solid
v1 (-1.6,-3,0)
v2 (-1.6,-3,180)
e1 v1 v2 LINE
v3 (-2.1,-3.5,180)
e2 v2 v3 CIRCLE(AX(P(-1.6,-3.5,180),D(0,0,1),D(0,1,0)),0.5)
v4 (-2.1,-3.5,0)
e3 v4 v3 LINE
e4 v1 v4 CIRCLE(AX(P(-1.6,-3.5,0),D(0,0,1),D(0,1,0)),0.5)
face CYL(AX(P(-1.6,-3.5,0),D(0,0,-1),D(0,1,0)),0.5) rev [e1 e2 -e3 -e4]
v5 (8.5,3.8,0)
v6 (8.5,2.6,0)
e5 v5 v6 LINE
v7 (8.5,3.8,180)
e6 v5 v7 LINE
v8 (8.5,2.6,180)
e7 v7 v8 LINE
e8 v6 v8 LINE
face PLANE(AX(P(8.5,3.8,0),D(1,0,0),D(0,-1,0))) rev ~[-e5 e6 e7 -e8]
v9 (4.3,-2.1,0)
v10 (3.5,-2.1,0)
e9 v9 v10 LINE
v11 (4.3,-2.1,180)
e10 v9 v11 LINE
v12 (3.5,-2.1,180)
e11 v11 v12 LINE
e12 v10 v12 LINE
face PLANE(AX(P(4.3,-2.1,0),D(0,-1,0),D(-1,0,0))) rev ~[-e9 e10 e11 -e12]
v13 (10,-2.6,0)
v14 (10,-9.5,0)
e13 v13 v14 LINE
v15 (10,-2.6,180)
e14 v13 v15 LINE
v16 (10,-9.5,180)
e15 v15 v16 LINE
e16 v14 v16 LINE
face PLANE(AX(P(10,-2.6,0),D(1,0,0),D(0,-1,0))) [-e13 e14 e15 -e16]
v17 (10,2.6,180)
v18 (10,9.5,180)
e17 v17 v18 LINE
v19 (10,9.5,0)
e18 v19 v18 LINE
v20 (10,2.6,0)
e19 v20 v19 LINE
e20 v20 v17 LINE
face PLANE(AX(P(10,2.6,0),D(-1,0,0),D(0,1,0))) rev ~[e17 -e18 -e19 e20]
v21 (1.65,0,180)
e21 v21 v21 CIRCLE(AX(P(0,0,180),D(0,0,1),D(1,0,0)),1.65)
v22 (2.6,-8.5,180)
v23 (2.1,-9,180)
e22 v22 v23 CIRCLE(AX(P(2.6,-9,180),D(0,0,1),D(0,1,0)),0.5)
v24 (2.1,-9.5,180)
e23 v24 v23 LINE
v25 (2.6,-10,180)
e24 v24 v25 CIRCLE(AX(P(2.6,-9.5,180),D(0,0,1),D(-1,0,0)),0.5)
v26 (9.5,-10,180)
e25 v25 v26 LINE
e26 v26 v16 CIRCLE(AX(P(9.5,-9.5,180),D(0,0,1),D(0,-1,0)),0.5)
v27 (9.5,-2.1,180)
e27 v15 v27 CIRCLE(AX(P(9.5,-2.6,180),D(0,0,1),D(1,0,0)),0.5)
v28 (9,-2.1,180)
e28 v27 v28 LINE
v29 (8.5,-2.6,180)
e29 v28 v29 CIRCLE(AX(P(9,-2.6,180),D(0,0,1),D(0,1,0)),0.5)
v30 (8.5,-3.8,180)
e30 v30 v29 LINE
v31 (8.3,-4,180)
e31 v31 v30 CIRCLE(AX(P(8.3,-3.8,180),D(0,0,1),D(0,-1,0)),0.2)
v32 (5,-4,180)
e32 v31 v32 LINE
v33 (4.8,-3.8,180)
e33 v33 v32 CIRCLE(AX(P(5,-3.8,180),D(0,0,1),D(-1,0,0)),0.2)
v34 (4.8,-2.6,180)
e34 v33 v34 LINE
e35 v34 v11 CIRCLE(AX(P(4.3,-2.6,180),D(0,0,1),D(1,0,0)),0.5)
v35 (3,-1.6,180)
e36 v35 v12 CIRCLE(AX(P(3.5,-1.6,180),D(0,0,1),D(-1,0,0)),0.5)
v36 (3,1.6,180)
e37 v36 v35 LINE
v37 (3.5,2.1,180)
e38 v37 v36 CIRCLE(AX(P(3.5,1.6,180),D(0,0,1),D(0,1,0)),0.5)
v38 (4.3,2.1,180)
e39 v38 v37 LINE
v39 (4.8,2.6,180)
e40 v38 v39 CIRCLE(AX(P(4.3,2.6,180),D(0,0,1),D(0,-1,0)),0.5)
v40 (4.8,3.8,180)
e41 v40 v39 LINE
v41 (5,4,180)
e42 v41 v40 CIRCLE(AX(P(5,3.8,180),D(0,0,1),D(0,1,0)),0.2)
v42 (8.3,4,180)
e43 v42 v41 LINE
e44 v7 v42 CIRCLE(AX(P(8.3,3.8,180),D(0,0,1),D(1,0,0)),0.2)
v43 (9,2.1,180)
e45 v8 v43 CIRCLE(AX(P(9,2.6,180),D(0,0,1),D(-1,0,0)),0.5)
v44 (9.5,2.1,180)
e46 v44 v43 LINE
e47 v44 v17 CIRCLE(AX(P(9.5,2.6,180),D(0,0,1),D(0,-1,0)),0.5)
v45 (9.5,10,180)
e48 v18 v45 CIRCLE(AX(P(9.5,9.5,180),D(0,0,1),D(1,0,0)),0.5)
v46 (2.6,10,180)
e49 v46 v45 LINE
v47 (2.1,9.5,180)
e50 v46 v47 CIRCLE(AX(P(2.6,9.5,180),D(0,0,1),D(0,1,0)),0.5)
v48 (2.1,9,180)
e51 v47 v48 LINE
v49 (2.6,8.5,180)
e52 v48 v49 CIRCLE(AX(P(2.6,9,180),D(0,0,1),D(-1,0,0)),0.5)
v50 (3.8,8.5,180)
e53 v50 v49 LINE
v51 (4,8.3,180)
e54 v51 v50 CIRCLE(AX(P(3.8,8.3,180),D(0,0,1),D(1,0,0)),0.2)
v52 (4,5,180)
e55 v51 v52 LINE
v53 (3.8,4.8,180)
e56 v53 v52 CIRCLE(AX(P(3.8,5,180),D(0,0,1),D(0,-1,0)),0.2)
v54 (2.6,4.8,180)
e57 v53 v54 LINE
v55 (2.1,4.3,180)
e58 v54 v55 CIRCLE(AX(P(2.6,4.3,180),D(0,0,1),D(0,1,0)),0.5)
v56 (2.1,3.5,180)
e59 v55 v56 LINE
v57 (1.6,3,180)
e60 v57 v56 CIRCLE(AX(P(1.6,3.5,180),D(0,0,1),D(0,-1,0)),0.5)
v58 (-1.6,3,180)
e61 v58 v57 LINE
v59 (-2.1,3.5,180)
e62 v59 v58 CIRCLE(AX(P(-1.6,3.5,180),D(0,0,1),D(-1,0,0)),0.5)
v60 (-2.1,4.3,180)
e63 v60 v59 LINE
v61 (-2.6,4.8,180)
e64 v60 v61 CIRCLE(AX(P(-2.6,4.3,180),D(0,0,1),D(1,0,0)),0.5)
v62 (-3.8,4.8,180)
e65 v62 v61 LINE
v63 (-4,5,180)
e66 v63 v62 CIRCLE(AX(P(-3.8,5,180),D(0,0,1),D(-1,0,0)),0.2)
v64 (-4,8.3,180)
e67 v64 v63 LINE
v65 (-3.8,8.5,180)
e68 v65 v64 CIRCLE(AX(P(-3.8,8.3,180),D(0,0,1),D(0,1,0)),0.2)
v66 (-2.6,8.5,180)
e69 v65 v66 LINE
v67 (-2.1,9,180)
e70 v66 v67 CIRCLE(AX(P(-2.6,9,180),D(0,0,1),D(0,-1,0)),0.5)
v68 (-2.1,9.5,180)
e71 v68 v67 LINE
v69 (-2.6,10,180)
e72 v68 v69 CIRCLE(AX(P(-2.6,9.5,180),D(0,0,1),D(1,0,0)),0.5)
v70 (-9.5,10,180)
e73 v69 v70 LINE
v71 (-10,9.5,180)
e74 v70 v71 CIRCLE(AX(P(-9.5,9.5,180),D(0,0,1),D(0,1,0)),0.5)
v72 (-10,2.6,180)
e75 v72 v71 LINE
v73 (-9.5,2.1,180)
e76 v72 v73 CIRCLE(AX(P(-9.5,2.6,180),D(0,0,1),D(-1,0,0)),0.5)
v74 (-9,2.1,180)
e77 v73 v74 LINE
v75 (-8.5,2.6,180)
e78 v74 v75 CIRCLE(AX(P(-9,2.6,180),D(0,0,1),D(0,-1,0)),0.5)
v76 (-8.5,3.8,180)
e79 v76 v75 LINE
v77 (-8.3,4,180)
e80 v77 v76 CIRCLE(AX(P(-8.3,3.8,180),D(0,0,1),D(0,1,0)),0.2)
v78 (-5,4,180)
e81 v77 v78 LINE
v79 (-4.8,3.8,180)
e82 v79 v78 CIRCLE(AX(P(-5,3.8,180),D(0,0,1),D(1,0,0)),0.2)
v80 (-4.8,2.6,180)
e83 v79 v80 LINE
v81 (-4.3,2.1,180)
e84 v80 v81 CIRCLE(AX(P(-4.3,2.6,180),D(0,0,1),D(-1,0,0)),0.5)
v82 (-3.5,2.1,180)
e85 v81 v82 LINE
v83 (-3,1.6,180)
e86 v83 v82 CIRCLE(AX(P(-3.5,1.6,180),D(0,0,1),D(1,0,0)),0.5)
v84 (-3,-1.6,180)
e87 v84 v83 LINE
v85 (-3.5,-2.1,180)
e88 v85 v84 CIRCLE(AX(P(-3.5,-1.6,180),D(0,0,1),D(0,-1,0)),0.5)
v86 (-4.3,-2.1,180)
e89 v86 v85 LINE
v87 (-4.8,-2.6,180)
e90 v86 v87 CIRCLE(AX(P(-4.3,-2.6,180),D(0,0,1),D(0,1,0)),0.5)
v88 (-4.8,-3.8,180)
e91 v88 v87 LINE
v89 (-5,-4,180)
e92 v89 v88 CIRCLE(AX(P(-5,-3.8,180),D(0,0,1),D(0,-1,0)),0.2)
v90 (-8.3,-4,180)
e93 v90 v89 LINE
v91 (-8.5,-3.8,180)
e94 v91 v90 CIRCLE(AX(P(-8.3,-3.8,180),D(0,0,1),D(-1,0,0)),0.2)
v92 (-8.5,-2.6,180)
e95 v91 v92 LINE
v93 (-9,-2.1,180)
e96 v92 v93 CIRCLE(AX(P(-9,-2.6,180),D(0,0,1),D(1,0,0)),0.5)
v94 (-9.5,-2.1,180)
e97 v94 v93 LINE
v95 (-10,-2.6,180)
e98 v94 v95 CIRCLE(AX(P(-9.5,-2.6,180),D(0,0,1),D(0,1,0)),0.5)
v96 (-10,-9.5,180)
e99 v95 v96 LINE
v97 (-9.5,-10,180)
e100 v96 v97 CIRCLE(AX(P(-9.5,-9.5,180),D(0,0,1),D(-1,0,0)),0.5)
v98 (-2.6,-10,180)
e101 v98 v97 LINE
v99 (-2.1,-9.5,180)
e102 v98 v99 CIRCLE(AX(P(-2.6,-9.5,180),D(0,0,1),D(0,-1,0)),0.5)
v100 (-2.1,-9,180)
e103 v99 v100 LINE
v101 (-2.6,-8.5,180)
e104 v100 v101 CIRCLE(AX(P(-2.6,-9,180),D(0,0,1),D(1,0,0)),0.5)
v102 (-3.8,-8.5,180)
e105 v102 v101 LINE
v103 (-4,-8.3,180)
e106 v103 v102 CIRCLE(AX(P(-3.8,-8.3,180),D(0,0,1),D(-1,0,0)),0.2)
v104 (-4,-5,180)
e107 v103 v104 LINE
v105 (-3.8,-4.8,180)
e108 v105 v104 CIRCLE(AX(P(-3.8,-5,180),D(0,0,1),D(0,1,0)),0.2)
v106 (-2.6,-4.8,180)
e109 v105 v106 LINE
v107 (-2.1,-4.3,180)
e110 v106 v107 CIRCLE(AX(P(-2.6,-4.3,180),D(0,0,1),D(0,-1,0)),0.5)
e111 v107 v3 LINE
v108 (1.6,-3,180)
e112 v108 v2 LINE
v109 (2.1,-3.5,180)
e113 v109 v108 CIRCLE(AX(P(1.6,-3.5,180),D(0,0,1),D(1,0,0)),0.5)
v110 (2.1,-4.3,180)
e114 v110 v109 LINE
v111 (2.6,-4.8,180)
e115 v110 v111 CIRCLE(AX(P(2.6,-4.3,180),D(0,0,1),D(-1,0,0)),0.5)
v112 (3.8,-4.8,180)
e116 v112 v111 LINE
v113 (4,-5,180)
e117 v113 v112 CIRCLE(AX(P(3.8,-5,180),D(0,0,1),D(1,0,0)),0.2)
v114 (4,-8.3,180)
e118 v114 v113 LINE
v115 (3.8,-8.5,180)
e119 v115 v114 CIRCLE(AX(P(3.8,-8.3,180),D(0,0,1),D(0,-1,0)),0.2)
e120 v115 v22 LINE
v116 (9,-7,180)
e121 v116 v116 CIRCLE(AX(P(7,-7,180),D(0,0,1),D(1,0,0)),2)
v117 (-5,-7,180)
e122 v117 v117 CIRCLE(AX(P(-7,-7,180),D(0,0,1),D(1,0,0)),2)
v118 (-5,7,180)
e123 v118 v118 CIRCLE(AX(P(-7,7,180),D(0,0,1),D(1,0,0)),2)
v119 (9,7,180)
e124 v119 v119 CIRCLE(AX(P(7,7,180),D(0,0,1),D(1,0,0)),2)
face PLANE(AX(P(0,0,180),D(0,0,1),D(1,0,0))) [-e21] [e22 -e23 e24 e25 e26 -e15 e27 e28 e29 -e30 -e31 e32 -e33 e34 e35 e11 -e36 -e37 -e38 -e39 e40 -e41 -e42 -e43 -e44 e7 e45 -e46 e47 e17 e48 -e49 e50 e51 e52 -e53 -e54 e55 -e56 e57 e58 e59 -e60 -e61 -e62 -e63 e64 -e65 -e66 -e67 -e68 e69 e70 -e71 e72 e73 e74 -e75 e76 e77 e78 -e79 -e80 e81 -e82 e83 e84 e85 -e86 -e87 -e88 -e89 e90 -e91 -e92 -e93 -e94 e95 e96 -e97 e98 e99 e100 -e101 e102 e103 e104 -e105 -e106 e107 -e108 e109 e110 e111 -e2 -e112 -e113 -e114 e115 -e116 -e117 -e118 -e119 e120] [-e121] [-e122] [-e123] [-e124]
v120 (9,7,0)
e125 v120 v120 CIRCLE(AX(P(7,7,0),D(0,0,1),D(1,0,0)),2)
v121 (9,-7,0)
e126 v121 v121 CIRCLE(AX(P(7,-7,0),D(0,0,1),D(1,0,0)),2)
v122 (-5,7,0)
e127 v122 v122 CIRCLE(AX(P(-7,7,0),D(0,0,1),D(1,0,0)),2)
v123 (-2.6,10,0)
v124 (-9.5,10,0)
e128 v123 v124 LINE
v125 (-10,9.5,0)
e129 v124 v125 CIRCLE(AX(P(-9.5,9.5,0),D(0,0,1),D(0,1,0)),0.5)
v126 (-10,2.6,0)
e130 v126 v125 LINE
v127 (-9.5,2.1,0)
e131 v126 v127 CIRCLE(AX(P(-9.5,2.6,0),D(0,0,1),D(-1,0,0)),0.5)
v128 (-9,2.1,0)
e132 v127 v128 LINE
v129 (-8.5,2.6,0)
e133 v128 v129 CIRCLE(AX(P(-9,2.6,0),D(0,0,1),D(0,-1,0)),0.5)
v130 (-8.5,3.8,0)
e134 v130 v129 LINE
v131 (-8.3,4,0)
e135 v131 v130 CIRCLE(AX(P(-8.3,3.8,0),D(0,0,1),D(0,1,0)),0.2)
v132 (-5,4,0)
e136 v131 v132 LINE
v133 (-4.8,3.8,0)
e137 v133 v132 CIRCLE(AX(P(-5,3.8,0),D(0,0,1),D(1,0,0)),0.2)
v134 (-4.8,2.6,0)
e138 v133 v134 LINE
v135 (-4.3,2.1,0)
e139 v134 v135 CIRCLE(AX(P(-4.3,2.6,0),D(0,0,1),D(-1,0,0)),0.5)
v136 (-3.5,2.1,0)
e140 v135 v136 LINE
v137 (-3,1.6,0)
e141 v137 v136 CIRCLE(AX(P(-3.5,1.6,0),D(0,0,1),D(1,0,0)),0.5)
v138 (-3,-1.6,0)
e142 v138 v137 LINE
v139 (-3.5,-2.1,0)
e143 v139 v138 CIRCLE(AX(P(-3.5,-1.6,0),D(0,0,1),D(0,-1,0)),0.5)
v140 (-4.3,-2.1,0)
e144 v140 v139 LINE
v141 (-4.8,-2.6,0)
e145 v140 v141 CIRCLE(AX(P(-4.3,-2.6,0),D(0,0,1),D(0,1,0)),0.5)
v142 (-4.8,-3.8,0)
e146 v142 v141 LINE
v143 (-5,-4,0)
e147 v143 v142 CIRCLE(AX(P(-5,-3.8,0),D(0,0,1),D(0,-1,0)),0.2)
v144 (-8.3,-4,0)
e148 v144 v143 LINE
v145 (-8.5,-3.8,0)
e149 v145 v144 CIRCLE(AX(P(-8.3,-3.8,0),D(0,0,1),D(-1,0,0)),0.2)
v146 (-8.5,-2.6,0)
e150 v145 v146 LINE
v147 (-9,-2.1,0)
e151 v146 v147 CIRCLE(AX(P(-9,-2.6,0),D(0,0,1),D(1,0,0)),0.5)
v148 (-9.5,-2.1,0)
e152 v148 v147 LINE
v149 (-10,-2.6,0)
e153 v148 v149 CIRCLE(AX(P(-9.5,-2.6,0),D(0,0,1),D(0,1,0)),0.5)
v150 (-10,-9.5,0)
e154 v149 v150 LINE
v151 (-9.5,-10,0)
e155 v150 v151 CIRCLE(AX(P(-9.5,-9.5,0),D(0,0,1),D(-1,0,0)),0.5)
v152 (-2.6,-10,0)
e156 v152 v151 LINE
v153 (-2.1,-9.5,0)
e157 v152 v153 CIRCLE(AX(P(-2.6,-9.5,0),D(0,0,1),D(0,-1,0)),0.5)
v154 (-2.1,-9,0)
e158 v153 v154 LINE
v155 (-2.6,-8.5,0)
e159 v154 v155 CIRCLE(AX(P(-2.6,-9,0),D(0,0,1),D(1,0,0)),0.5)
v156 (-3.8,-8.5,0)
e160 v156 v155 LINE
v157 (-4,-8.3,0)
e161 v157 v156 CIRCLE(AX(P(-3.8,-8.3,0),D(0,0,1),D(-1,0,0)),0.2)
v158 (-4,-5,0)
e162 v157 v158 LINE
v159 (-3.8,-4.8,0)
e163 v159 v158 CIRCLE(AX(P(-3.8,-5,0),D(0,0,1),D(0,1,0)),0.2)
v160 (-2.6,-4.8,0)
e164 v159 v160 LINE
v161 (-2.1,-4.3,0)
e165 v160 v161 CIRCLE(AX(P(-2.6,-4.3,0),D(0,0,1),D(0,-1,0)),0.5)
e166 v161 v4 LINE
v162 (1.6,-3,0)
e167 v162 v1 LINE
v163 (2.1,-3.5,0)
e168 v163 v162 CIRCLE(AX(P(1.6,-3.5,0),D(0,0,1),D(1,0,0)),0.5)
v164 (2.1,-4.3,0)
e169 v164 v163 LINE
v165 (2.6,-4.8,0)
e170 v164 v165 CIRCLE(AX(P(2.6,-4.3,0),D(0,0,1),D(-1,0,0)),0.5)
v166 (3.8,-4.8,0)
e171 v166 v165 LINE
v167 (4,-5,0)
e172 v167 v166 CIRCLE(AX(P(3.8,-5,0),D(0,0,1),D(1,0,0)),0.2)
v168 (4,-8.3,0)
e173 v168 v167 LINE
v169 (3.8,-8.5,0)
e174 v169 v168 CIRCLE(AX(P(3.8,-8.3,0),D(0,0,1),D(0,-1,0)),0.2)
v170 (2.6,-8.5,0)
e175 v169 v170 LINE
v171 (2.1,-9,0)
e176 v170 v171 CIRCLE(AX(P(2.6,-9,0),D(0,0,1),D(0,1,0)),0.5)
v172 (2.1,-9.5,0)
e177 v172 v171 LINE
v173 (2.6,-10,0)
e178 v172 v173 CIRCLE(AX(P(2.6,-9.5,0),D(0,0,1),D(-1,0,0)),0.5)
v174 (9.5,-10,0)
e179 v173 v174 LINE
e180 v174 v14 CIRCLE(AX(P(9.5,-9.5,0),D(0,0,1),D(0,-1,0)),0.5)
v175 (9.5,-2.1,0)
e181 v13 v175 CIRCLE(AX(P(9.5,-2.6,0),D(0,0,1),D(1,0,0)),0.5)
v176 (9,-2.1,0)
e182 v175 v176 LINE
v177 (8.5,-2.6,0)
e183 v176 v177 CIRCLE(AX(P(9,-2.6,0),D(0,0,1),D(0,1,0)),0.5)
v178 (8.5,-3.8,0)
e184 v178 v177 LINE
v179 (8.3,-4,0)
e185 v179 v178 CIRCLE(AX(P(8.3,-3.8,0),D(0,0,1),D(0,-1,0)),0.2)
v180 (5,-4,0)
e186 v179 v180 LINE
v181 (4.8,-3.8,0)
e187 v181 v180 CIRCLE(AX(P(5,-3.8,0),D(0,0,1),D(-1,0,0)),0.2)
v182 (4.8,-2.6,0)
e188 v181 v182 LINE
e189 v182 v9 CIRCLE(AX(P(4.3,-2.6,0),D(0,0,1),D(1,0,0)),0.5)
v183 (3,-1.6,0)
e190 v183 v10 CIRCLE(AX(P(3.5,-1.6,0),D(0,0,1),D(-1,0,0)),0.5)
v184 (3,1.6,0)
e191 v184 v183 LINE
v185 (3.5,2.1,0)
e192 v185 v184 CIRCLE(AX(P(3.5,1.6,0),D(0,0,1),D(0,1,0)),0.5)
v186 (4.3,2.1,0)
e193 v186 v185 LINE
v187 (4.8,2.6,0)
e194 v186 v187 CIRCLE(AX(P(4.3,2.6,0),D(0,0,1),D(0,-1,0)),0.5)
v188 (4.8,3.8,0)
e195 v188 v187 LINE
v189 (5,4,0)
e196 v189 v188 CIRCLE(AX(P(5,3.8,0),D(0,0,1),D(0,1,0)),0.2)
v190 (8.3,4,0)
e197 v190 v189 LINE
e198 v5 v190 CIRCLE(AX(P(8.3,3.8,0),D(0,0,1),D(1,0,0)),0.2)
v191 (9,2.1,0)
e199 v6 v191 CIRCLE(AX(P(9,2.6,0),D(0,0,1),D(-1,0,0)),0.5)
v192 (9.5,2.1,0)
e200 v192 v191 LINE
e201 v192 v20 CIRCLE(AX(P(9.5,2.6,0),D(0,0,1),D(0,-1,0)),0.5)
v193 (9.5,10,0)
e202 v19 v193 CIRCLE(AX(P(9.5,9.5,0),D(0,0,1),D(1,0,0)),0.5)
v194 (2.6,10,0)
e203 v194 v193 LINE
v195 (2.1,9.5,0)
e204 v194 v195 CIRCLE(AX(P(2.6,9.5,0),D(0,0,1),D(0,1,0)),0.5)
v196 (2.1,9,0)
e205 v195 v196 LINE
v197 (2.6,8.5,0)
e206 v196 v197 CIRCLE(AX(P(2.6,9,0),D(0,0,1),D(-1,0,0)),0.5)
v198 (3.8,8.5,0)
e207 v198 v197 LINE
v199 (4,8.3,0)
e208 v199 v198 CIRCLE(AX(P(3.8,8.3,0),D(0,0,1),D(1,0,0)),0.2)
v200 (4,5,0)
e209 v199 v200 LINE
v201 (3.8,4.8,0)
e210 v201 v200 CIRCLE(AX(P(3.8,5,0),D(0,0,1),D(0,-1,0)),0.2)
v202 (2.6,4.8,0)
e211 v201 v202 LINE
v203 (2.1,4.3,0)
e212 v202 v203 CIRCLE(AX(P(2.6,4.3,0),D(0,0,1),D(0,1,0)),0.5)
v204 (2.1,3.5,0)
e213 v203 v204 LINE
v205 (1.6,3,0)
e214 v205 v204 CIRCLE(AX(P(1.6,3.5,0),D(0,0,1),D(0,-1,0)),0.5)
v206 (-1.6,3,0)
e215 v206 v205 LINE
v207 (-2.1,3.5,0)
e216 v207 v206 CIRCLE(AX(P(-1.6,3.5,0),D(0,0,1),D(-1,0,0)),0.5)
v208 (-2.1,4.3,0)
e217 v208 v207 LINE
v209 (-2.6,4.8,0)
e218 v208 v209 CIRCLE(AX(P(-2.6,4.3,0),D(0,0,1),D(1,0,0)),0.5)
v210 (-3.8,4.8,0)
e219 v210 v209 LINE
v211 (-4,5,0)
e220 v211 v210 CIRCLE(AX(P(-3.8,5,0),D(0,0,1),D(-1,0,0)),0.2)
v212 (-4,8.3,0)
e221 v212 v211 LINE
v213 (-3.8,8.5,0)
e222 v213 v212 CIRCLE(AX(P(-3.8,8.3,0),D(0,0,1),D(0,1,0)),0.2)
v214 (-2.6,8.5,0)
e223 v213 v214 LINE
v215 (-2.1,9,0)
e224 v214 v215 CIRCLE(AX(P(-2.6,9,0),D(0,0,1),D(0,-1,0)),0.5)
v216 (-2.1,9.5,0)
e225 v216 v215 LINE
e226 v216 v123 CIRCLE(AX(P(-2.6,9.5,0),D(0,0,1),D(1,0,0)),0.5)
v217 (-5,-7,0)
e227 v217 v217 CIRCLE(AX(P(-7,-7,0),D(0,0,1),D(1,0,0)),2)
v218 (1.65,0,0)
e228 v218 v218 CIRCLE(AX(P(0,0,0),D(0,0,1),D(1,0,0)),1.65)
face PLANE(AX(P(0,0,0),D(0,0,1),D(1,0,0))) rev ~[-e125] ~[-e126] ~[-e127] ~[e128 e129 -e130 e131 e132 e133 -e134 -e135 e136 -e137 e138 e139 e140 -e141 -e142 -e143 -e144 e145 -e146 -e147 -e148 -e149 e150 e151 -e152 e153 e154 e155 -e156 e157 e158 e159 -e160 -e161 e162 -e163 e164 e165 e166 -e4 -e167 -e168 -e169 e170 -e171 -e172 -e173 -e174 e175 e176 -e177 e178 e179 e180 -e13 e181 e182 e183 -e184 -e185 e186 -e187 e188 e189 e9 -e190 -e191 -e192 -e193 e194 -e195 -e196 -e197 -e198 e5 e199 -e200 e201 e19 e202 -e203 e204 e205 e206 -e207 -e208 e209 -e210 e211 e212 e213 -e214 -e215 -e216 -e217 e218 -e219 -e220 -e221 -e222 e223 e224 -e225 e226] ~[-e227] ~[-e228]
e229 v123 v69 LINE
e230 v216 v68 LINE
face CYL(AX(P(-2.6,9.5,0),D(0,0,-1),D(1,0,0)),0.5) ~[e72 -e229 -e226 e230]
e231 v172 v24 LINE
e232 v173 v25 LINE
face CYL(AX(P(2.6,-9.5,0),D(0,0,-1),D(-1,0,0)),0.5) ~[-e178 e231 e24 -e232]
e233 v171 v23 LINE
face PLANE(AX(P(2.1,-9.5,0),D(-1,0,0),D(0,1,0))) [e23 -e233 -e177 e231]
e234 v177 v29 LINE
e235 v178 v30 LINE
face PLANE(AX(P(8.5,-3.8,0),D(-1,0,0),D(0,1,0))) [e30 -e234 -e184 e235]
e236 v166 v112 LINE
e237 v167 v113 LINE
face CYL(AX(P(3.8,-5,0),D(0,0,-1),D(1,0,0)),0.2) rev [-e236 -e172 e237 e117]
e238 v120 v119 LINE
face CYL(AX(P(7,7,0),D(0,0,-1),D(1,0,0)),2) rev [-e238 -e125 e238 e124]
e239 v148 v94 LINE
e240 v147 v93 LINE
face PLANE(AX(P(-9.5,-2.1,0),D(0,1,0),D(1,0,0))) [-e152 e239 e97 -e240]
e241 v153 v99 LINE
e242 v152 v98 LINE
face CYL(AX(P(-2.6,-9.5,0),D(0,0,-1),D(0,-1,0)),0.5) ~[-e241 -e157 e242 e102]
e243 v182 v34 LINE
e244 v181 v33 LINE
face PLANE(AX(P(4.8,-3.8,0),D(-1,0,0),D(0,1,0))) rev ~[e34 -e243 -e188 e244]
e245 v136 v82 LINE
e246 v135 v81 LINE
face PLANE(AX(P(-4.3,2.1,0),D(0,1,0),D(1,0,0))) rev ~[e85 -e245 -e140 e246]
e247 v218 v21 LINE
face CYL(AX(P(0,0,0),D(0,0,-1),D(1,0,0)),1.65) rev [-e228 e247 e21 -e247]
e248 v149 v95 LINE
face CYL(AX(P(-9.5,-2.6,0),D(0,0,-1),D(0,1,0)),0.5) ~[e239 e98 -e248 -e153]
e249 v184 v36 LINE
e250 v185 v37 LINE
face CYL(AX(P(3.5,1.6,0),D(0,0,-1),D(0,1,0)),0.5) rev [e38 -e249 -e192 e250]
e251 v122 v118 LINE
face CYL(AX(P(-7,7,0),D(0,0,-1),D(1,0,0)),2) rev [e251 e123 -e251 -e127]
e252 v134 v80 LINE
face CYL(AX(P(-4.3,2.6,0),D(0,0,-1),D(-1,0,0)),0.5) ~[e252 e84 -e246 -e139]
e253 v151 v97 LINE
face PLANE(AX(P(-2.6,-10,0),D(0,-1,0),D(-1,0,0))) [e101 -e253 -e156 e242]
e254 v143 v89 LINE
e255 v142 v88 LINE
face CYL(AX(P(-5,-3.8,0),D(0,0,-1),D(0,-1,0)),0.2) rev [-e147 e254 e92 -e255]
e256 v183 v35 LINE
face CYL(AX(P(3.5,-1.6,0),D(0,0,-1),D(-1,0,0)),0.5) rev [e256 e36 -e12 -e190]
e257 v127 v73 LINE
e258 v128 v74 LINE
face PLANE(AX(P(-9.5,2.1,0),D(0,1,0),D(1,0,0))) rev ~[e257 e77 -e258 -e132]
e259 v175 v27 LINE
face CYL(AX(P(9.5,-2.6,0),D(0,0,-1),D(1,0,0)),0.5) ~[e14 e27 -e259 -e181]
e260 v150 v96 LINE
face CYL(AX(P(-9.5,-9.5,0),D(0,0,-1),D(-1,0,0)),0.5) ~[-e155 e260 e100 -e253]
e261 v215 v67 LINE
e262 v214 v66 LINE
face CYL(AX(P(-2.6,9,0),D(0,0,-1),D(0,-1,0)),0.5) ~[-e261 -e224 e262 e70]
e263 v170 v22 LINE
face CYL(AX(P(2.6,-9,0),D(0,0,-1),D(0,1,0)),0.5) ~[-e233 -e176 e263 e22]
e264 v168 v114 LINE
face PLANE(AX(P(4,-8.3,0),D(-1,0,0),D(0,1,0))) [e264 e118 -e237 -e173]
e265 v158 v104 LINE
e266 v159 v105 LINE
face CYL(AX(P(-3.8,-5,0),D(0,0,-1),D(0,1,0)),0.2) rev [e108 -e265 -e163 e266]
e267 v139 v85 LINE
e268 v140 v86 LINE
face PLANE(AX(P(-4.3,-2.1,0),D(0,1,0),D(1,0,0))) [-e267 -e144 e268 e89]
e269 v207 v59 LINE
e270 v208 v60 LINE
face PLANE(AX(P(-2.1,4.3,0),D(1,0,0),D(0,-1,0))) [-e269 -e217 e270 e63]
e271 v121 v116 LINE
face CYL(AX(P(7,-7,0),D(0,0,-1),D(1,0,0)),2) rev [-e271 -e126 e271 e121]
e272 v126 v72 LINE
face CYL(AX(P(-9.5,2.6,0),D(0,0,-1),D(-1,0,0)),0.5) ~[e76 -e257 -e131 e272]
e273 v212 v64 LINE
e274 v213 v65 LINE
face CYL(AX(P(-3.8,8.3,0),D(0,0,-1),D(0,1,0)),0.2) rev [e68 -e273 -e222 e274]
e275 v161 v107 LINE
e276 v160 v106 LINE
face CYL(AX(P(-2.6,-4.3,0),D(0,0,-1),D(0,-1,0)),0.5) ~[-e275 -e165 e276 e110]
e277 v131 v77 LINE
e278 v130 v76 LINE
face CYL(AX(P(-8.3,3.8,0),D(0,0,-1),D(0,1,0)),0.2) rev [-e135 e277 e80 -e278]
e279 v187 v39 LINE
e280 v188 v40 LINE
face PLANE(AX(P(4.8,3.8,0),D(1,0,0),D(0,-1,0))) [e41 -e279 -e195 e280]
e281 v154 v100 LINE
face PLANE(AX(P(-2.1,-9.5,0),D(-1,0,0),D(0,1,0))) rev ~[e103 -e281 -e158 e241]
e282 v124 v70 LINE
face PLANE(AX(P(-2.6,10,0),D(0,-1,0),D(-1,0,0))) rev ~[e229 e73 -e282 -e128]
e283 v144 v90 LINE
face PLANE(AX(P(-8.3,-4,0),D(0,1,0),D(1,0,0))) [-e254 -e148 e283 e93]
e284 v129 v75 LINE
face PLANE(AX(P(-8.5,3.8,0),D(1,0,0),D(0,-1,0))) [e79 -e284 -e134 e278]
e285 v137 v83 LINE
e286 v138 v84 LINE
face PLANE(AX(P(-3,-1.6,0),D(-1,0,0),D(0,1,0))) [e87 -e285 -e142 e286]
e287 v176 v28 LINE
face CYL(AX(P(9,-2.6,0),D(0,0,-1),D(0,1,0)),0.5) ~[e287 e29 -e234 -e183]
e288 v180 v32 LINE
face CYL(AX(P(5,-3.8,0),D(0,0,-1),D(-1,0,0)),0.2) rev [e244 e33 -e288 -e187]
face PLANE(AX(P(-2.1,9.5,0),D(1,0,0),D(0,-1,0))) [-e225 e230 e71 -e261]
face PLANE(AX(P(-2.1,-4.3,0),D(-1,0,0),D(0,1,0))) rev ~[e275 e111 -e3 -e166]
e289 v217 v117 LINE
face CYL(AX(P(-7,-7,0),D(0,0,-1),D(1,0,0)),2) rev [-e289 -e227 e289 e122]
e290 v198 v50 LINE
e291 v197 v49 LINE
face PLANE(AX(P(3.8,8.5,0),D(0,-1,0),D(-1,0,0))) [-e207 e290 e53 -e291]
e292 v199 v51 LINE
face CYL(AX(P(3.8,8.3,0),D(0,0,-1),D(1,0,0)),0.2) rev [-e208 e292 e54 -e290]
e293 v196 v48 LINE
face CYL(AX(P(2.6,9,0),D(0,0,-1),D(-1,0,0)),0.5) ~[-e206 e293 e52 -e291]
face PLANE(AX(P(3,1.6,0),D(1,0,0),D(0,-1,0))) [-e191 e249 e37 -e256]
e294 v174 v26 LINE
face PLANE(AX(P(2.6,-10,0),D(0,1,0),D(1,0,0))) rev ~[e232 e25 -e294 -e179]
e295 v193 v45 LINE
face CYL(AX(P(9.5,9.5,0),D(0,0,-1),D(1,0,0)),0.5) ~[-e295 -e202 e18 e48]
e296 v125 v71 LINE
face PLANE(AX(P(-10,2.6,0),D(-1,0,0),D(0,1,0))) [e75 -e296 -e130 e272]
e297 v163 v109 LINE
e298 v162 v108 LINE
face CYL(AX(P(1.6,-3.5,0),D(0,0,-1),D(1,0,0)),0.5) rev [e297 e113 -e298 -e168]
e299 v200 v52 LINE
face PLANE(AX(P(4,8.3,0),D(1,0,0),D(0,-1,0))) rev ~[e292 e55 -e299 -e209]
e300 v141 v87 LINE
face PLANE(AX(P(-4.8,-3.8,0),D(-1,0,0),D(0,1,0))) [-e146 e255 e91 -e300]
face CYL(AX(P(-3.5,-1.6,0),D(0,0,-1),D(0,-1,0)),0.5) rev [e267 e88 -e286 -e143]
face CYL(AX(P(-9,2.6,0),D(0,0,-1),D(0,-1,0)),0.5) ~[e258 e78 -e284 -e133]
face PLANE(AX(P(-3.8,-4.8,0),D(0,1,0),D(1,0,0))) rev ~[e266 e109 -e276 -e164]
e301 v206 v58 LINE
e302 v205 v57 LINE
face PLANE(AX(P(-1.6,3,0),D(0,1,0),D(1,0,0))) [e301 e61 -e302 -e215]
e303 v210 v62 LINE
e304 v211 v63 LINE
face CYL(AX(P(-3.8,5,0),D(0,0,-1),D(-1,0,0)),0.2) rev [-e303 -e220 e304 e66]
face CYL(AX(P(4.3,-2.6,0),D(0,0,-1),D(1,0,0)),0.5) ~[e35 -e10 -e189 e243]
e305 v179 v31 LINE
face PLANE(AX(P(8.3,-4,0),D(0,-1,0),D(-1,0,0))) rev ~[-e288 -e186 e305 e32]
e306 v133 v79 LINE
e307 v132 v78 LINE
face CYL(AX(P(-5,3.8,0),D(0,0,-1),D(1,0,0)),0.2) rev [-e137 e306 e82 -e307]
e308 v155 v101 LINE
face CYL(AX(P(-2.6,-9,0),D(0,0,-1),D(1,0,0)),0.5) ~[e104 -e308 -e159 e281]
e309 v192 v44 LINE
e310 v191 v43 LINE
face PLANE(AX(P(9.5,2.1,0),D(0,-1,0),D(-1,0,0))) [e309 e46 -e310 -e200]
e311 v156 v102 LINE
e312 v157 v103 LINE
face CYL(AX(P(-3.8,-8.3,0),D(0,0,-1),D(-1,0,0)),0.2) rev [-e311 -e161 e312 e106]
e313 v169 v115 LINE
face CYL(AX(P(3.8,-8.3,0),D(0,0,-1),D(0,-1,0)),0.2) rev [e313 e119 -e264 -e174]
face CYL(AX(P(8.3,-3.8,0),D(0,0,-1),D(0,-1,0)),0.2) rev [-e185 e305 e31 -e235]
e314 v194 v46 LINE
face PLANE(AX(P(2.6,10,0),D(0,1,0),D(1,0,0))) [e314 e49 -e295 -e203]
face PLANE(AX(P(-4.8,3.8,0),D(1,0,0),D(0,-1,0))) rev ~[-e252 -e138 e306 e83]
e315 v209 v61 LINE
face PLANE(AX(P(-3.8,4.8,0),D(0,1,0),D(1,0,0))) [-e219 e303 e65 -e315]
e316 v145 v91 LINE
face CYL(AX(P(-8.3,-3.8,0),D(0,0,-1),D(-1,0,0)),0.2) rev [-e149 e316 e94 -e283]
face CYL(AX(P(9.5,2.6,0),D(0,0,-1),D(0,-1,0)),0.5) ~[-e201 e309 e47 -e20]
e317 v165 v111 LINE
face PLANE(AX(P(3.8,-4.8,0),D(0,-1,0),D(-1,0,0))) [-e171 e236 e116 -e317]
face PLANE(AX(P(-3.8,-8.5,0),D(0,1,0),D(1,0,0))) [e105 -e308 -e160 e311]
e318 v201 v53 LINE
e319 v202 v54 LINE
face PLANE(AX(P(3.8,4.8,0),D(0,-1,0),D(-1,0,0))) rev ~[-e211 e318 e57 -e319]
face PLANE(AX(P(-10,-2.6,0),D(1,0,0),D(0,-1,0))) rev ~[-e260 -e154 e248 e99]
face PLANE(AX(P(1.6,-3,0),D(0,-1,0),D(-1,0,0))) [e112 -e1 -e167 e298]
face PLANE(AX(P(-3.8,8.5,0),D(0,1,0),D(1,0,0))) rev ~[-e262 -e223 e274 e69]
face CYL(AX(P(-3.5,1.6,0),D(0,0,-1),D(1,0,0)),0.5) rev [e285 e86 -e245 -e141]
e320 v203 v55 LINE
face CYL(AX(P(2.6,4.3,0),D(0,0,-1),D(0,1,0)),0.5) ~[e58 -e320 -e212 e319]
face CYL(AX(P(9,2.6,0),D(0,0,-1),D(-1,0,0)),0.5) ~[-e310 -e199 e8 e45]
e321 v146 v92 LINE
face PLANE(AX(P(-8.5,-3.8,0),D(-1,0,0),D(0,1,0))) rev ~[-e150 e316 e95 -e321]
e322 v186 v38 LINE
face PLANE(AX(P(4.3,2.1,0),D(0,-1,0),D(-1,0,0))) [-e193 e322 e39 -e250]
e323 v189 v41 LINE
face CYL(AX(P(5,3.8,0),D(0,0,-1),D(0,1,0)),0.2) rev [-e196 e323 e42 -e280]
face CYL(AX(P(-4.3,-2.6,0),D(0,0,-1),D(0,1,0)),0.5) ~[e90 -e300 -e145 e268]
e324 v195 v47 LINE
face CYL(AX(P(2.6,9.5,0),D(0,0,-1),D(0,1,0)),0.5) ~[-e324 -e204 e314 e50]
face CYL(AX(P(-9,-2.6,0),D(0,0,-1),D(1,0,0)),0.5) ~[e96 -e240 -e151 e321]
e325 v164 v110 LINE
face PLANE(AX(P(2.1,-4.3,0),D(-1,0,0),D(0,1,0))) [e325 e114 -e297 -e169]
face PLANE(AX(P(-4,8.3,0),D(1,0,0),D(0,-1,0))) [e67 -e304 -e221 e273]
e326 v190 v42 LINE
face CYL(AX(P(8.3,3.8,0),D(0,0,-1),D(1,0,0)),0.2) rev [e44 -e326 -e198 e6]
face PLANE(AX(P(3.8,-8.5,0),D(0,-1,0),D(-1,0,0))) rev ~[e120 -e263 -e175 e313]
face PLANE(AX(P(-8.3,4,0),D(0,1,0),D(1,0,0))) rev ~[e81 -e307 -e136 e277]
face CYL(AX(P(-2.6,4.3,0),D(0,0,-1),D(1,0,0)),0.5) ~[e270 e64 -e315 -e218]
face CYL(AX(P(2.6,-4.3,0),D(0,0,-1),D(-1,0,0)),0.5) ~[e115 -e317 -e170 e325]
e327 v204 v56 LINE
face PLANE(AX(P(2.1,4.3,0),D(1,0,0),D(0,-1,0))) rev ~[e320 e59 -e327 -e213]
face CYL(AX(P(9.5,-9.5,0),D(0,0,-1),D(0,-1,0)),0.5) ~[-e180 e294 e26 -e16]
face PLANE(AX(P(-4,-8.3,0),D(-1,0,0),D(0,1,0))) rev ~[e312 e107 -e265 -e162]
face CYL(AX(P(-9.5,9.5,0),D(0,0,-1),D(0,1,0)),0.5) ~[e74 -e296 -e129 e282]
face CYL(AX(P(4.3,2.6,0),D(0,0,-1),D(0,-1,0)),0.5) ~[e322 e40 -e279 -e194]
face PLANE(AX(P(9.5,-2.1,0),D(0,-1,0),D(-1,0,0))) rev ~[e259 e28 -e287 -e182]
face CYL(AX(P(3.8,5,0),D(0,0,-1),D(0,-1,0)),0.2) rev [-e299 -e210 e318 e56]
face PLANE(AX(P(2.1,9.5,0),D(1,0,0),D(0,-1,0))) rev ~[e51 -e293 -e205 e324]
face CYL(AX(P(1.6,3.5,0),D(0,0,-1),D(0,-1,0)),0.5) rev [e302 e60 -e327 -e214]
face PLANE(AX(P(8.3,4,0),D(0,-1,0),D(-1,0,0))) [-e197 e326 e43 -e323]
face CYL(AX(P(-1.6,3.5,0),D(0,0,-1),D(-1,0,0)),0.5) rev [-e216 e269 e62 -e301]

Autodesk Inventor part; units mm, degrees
ref_plane "YZ Plane" through (0, 0, 0) normal (1, 0, 0) x (0, 1, 0)
ref_plane "XZ Plane" through (0, 0, 0) normal (0, 1, 0) x (-1, 0, 0)
ref_plane "XY Plane" through (0, 0, 0) normal (0, 0, 1) x (1, 0, 0)
sketch "BaseS" plane through (0, 0, 0) normal (0, 0, 1) x (1, 0, 0)
  line L0 (8.5, -3.8) -> (8.5, -2.6)
  line L1 (4, -8.3) -> (4, -5)
  circle A0 centre (7, -7) radius 2
  line L2 (10, -2.6) -> (10, -9.5)
  line L3 (2.6, -10) -> (9.5, -10)
  line L4 (2.1, -9.5) -> (2.1, -9)
  line L5 (8.5, -2.6) -> (8.5, -3.8)
  line L6 (3.8, -4.8) -> (2.6, -4.8)
  line L7 (4.8, -3.8) -> (4.8, -2.6)
  arc A1 (2.1, -4.3) -> (2.6, -4.8) centre (2.6, -4.3) ccw
  arc A2 (2.6, -8.5) -> (2.1, -9) centre (2.6, -9) ccw
  arc A3 (3.8, -8.5) -> (4, -8.3) centre (3.8, -8.3) ccw
  arc A4 (4, -5) -> (3.8, -4.8) centre (3.8, -5) ccw
  arc A5 (2.1, -3.5) -> (1.6, -3) centre (1.6, -3.5) ccw
  arc A6 (2.1, -9.5) -> (2.6, -10) centre (2.6, -9.5) ccw
  arc A7 (9.5, -10) -> (10, -9.5) centre (9.5, -9.5) ccw
  arc A8 (10, -2.6) -> (9.5, -2.1) centre (9.5, -2.6) ccw
  arc A9 (9, -2.1) -> (8.5, -2.6) centre (9, -2.6) ccw
  arc A10 (8.3, -4) -> (8.5, -3.8) centre (8.3, -3.8) ccw
  arc A11 (4.8, -3.8) -> (5, -4) centre (5, -3.8) ccw
  line L8 (4.3, -2.1) -> (3.5, -2.1)
  arc A12 (4.8, -2.6) -> (4.3, -2.1) centre (4.3, -2.6) ccw
  arc A13 (3, -1.6) -> (3.5, -2.1) centre (3.5, -1.6) ccw
  line L9 (2.1, -4.3) -> (2.1, -3.5)
  line L10 (3.8, -8.5) -> (2.6, -8.5)
  line L11 (9.5, -2.1) -> (9, -2.1)
  line L12 (8.3, -4) -> (5, -4)
  circle A14 centre (0, 0) radius 1.65
  arc A15 (8.5, 2.6) -> (9, 2.1) centre (9, 2.6) ccw
  line L13 (8.5, 3.8) -> (8.5, 2.6)
  arc A16 (8.5, 3.8) -> (8.3, 4) centre (8.3, 3.8) ccw
  line L14 (8.3, 4) -> (5, 4)
  line L15 (10, 2.6) -> (10, 9.5)
  arc A17 (10, 9.5) -> (9.5, 10) centre (9.5, 9.5) ccw
  circle A18 centre (7, 7) radius 2
  line L16 (4, 8.3) -> (4, 5)
  line L17 (2.6, 10) -> (9.5, 10)
  line L18 (9.5, 2.1) -> (9, 2.1)
  arc A19 (9.5, 2.1) -> (10, 2.6) centre (9.5, 2.6) ccw
  line L19 (3.8, 8.5) -> (2.6, 8.5)
  line L20 (4.8, 3.8) -> (4.8, 2.6)
  arc A20 (4.3, 2.1) -> (4.8, 2.6) centre (4.3, 2.6) ccw
  line L21 (2.6, 8.5) -> (3.8, 8.5)
  arc A21 (4, 8.3) -> (3.8, 8.5) centre (3.8, 8.3) ccw
  arc A22 (2.1, 9) -> (2.6, 8.5) centre (2.6, 9) ccw
  arc A23 (2.6, 10) -> (2.1, 9.5) centre (2.6, 9.5) ccw
  line L22 (2.1, 9.5) -> (2.1, 9)
  arc A24 (1.6, 3) -> (2.1, 3.5) centre (1.6, 3.5) ccw
  line L23 (3.8, 4.8) -> (2.6, 4.8)
  arc A25 (5, 4) -> (4.8, 3.8) centre (5, 3.8) ccw
  arc A26 (3.8, 4.8) -> (4, 5) centre (3.8, 5) ccw
  line L24 (4.3, 2.1) -> (3.5, 2.1)
  arc A27 (2.6, 4.8) -> (2.1, 4.3) centre (2.6, 4.3) ccw
  line L25 (2.1, 4.3) -> (2.1, 3.5)
  arc A28 (3.5, 2.1) -> (3, 1.6) centre (3.5, 1.6) ccw
  arc A29 (-2.6, 8.5) -> (-2.1, 9) centre (-2.6, 9) ccw
  line L26 (-3.8, 8.5) -> (-2.6, 8.5)
  arc A30 (-3.8, 8.5) -> (-4, 8.3) centre (-3.8, 8.3) ccw
  line L27 (-4, 8.3) -> (-4, 5)
  line L28 (-2.6, 10) -> (-9.5, 10)
  arc A31 (-9.5, 10) -> (-10, 9.5) centre (-9.5, 9.5) ccw
  circle A32 centre (-7, 7) radius 2
  line L29 (-8.3, 4) -> (-5, 4)
  line L30 (-10, 2.6) -> (-10, 9.5)
  line L31 (-2.1, 9.5) -> (-2.1, 9)
  arc A33 (-2.1, 9.5) -> (-2.6, 10) centre (-2.6, 9.5) ccw
  line L32 (-8.5, 3.8) -> (-8.5, 2.6)
  line L33 (-3.8, 4.8) -> (-2.6, 4.8)
  arc A34 (-2.1, 4.3) -> (-2.6, 4.8) centre (-2.6, 4.3) ccw
  line L34 (-8.5, 2.6) -> (-8.5, 3.8)
  arc A35 (-8.3, 4) -> (-8.5, 3.8) centre (-8.3, 3.8) ccw
  arc A36 (-9, 2.1) -> (-8.5, 2.6) centre (-9, 2.6) ccw
  arc A37 (-10, 2.6) -> (-9.5, 2.1) centre (-9.5, 2.6) ccw
  line L35 (-9.5, 2.1) -> (-9, 2.1)
  arc A38 (-3, 1.6) -> (-3.5, 2.1) centre (-3.5, 1.6) ccw
  line L36 (-4.8, 3.8) -> (-4.8, 2.6)
  arc A39 (-4, 5) -> (-3.8, 4.8) centre (-3.8, 5) ccw
  arc A40 (-4.8, 3.8) -> (-5, 4) centre (-5, 3.8) ccw
  line L37 (-2.1, 4.3) -> (-2.1, 3.5)
  arc A41 (-4.8, 2.6) -> (-4.3, 2.1) centre (-4.3, 2.6) ccw
  line L38 (-4.3, 2.1) -> (-3.5, 2.1)
  arc A42 (-2.1, 3.5) -> (-1.6, 3) centre (-1.6, 3.5) ccw
  arc A43 (-8.5, -2.6) -> (-9, -2.1) centre (-9, -2.6) ccw
  line L39 (-8.5, -3.8) -> (-8.5, -2.6)
  arc A44 (-8.5, -3.8) -> (-8.3, -4) centre (-8.3, -3.8) ccw
  line L40 (-8.3, -4) -> (-5, -4)
  line L41 (-10, -2.6) -> (-10, -9.5)
  arc A45 (-10, -9.5) -> (-9.5, -10) centre (-9.5, -9.5) ccw
  circle A46 centre (-7, -7) radius 2
  line L42 (-4, -8.3) -> (-4, -5)
  line L43 (-2.6, -10) -> (-9.5, -10)
  line L44 (-9.5, -2.1) -> (-9, -2.1)
  arc A47 (-9.5, -2.1) -> (-10, -2.6) centre (-9.5, -2.6) ccw
  line L45 (-3.8, -8.5) -> (-2.6, -8.5)
  line L46 (-4.8, -3.8) -> (-4.8, -2.6)
  arc A48 (-4.3, -2.1) -> (-4.8, -2.6) centre (-4.3, -2.6) ccw
  line L47 (-2.6, -8.5) -> (-3.8, -8.5)
  arc A49 (-4, -8.3) -> (-3.8, -8.5) centre (-3.8, -8.3) ccw
  arc A50 (-2.1, -9) -> (-2.6, -8.5) centre (-2.6, -9) ccw
  arc A51 (-2.6, -10) -> (-2.1, -9.5) centre (-2.6, -9.5) ccw
  line L48 (-2.1, -9.5) -> (-2.1, -9)
  arc A52 (-1.6, -3) -> (-2.1, -3.5) centre (-1.6, -3.5) ccw
  line L49 (-3.8, -4.8) -> (-2.6, -4.8)
  arc A53 (-5, -4) -> (-4.8, -3.8) centre (-5, -3.8) ccw
  arc A54 (-3.8, -4.8) -> (-4, -5) centre (-3.8, -5) ccw
  line L50 (-4.3, -2.1) -> (-3.5, -2.1)
  arc A55 (-2.6, -4.8) -> (-2.1, -4.3) centre (-2.6, -4.3) ccw
  line L51 (-2.1, -4.3) -> (-2.1, -3.5)
  arc A56 (-3.5, -2.1) -> (-3, -1.6) centre (-3.5, -1.6) ccw
  line L52 (1.6, -3) -> (-1.6, -3)
  line L53 (-3, -1.6) -> (-3, 1.6)
  line L54 (-1.6, 3) -> (1.6, 3)
  line L55 (3, 1.6) -> (3, -1.6)
  point P0 (2.1, -10)
  point P1 (10, 2.1)
  point P2 (-2.1, 10)
  point P3 (-10, -2.1)
  dimension "d2" = 4
  dimension "d3" = 3.7
  dimension "d4" = 0.5
  dimension "d5" = 0.5
  dimension "d6" = 0.2
  dimension "d7" = 0.5
  dimension "d8" = 0.5
  dimension "d9" = 0.5
  dimension "d10" = 0.2
  dimension "d11" = 0.5
  dimension "d12" = 1.5
  dimension "d13" = 3.7
  dimension "d14" = 1.5
  dimension "d15" = 3.3
  dimension "d16" = 10
  dimension "d17" = 2.1
  dimension "d18" = 2.1
  dimension "d19" = 1.9
  dimension "d20" = 7
  dimension "d21" = 2.1
  dimension "d22" = 2.1
  dimension "d23" = 1.9
  dimension "d24" = 7
  dimension "d25" = 10
  dimension "d26" = 360
  dimension "d27" = 3
extrude "押し出し1" add sketch "BaseS" along normal blind 180
equation "\"d28\" = L"
equation "\"L\" = 180"
properties part number "AFS-2020-4-180" material "アルミニウム 6061"
